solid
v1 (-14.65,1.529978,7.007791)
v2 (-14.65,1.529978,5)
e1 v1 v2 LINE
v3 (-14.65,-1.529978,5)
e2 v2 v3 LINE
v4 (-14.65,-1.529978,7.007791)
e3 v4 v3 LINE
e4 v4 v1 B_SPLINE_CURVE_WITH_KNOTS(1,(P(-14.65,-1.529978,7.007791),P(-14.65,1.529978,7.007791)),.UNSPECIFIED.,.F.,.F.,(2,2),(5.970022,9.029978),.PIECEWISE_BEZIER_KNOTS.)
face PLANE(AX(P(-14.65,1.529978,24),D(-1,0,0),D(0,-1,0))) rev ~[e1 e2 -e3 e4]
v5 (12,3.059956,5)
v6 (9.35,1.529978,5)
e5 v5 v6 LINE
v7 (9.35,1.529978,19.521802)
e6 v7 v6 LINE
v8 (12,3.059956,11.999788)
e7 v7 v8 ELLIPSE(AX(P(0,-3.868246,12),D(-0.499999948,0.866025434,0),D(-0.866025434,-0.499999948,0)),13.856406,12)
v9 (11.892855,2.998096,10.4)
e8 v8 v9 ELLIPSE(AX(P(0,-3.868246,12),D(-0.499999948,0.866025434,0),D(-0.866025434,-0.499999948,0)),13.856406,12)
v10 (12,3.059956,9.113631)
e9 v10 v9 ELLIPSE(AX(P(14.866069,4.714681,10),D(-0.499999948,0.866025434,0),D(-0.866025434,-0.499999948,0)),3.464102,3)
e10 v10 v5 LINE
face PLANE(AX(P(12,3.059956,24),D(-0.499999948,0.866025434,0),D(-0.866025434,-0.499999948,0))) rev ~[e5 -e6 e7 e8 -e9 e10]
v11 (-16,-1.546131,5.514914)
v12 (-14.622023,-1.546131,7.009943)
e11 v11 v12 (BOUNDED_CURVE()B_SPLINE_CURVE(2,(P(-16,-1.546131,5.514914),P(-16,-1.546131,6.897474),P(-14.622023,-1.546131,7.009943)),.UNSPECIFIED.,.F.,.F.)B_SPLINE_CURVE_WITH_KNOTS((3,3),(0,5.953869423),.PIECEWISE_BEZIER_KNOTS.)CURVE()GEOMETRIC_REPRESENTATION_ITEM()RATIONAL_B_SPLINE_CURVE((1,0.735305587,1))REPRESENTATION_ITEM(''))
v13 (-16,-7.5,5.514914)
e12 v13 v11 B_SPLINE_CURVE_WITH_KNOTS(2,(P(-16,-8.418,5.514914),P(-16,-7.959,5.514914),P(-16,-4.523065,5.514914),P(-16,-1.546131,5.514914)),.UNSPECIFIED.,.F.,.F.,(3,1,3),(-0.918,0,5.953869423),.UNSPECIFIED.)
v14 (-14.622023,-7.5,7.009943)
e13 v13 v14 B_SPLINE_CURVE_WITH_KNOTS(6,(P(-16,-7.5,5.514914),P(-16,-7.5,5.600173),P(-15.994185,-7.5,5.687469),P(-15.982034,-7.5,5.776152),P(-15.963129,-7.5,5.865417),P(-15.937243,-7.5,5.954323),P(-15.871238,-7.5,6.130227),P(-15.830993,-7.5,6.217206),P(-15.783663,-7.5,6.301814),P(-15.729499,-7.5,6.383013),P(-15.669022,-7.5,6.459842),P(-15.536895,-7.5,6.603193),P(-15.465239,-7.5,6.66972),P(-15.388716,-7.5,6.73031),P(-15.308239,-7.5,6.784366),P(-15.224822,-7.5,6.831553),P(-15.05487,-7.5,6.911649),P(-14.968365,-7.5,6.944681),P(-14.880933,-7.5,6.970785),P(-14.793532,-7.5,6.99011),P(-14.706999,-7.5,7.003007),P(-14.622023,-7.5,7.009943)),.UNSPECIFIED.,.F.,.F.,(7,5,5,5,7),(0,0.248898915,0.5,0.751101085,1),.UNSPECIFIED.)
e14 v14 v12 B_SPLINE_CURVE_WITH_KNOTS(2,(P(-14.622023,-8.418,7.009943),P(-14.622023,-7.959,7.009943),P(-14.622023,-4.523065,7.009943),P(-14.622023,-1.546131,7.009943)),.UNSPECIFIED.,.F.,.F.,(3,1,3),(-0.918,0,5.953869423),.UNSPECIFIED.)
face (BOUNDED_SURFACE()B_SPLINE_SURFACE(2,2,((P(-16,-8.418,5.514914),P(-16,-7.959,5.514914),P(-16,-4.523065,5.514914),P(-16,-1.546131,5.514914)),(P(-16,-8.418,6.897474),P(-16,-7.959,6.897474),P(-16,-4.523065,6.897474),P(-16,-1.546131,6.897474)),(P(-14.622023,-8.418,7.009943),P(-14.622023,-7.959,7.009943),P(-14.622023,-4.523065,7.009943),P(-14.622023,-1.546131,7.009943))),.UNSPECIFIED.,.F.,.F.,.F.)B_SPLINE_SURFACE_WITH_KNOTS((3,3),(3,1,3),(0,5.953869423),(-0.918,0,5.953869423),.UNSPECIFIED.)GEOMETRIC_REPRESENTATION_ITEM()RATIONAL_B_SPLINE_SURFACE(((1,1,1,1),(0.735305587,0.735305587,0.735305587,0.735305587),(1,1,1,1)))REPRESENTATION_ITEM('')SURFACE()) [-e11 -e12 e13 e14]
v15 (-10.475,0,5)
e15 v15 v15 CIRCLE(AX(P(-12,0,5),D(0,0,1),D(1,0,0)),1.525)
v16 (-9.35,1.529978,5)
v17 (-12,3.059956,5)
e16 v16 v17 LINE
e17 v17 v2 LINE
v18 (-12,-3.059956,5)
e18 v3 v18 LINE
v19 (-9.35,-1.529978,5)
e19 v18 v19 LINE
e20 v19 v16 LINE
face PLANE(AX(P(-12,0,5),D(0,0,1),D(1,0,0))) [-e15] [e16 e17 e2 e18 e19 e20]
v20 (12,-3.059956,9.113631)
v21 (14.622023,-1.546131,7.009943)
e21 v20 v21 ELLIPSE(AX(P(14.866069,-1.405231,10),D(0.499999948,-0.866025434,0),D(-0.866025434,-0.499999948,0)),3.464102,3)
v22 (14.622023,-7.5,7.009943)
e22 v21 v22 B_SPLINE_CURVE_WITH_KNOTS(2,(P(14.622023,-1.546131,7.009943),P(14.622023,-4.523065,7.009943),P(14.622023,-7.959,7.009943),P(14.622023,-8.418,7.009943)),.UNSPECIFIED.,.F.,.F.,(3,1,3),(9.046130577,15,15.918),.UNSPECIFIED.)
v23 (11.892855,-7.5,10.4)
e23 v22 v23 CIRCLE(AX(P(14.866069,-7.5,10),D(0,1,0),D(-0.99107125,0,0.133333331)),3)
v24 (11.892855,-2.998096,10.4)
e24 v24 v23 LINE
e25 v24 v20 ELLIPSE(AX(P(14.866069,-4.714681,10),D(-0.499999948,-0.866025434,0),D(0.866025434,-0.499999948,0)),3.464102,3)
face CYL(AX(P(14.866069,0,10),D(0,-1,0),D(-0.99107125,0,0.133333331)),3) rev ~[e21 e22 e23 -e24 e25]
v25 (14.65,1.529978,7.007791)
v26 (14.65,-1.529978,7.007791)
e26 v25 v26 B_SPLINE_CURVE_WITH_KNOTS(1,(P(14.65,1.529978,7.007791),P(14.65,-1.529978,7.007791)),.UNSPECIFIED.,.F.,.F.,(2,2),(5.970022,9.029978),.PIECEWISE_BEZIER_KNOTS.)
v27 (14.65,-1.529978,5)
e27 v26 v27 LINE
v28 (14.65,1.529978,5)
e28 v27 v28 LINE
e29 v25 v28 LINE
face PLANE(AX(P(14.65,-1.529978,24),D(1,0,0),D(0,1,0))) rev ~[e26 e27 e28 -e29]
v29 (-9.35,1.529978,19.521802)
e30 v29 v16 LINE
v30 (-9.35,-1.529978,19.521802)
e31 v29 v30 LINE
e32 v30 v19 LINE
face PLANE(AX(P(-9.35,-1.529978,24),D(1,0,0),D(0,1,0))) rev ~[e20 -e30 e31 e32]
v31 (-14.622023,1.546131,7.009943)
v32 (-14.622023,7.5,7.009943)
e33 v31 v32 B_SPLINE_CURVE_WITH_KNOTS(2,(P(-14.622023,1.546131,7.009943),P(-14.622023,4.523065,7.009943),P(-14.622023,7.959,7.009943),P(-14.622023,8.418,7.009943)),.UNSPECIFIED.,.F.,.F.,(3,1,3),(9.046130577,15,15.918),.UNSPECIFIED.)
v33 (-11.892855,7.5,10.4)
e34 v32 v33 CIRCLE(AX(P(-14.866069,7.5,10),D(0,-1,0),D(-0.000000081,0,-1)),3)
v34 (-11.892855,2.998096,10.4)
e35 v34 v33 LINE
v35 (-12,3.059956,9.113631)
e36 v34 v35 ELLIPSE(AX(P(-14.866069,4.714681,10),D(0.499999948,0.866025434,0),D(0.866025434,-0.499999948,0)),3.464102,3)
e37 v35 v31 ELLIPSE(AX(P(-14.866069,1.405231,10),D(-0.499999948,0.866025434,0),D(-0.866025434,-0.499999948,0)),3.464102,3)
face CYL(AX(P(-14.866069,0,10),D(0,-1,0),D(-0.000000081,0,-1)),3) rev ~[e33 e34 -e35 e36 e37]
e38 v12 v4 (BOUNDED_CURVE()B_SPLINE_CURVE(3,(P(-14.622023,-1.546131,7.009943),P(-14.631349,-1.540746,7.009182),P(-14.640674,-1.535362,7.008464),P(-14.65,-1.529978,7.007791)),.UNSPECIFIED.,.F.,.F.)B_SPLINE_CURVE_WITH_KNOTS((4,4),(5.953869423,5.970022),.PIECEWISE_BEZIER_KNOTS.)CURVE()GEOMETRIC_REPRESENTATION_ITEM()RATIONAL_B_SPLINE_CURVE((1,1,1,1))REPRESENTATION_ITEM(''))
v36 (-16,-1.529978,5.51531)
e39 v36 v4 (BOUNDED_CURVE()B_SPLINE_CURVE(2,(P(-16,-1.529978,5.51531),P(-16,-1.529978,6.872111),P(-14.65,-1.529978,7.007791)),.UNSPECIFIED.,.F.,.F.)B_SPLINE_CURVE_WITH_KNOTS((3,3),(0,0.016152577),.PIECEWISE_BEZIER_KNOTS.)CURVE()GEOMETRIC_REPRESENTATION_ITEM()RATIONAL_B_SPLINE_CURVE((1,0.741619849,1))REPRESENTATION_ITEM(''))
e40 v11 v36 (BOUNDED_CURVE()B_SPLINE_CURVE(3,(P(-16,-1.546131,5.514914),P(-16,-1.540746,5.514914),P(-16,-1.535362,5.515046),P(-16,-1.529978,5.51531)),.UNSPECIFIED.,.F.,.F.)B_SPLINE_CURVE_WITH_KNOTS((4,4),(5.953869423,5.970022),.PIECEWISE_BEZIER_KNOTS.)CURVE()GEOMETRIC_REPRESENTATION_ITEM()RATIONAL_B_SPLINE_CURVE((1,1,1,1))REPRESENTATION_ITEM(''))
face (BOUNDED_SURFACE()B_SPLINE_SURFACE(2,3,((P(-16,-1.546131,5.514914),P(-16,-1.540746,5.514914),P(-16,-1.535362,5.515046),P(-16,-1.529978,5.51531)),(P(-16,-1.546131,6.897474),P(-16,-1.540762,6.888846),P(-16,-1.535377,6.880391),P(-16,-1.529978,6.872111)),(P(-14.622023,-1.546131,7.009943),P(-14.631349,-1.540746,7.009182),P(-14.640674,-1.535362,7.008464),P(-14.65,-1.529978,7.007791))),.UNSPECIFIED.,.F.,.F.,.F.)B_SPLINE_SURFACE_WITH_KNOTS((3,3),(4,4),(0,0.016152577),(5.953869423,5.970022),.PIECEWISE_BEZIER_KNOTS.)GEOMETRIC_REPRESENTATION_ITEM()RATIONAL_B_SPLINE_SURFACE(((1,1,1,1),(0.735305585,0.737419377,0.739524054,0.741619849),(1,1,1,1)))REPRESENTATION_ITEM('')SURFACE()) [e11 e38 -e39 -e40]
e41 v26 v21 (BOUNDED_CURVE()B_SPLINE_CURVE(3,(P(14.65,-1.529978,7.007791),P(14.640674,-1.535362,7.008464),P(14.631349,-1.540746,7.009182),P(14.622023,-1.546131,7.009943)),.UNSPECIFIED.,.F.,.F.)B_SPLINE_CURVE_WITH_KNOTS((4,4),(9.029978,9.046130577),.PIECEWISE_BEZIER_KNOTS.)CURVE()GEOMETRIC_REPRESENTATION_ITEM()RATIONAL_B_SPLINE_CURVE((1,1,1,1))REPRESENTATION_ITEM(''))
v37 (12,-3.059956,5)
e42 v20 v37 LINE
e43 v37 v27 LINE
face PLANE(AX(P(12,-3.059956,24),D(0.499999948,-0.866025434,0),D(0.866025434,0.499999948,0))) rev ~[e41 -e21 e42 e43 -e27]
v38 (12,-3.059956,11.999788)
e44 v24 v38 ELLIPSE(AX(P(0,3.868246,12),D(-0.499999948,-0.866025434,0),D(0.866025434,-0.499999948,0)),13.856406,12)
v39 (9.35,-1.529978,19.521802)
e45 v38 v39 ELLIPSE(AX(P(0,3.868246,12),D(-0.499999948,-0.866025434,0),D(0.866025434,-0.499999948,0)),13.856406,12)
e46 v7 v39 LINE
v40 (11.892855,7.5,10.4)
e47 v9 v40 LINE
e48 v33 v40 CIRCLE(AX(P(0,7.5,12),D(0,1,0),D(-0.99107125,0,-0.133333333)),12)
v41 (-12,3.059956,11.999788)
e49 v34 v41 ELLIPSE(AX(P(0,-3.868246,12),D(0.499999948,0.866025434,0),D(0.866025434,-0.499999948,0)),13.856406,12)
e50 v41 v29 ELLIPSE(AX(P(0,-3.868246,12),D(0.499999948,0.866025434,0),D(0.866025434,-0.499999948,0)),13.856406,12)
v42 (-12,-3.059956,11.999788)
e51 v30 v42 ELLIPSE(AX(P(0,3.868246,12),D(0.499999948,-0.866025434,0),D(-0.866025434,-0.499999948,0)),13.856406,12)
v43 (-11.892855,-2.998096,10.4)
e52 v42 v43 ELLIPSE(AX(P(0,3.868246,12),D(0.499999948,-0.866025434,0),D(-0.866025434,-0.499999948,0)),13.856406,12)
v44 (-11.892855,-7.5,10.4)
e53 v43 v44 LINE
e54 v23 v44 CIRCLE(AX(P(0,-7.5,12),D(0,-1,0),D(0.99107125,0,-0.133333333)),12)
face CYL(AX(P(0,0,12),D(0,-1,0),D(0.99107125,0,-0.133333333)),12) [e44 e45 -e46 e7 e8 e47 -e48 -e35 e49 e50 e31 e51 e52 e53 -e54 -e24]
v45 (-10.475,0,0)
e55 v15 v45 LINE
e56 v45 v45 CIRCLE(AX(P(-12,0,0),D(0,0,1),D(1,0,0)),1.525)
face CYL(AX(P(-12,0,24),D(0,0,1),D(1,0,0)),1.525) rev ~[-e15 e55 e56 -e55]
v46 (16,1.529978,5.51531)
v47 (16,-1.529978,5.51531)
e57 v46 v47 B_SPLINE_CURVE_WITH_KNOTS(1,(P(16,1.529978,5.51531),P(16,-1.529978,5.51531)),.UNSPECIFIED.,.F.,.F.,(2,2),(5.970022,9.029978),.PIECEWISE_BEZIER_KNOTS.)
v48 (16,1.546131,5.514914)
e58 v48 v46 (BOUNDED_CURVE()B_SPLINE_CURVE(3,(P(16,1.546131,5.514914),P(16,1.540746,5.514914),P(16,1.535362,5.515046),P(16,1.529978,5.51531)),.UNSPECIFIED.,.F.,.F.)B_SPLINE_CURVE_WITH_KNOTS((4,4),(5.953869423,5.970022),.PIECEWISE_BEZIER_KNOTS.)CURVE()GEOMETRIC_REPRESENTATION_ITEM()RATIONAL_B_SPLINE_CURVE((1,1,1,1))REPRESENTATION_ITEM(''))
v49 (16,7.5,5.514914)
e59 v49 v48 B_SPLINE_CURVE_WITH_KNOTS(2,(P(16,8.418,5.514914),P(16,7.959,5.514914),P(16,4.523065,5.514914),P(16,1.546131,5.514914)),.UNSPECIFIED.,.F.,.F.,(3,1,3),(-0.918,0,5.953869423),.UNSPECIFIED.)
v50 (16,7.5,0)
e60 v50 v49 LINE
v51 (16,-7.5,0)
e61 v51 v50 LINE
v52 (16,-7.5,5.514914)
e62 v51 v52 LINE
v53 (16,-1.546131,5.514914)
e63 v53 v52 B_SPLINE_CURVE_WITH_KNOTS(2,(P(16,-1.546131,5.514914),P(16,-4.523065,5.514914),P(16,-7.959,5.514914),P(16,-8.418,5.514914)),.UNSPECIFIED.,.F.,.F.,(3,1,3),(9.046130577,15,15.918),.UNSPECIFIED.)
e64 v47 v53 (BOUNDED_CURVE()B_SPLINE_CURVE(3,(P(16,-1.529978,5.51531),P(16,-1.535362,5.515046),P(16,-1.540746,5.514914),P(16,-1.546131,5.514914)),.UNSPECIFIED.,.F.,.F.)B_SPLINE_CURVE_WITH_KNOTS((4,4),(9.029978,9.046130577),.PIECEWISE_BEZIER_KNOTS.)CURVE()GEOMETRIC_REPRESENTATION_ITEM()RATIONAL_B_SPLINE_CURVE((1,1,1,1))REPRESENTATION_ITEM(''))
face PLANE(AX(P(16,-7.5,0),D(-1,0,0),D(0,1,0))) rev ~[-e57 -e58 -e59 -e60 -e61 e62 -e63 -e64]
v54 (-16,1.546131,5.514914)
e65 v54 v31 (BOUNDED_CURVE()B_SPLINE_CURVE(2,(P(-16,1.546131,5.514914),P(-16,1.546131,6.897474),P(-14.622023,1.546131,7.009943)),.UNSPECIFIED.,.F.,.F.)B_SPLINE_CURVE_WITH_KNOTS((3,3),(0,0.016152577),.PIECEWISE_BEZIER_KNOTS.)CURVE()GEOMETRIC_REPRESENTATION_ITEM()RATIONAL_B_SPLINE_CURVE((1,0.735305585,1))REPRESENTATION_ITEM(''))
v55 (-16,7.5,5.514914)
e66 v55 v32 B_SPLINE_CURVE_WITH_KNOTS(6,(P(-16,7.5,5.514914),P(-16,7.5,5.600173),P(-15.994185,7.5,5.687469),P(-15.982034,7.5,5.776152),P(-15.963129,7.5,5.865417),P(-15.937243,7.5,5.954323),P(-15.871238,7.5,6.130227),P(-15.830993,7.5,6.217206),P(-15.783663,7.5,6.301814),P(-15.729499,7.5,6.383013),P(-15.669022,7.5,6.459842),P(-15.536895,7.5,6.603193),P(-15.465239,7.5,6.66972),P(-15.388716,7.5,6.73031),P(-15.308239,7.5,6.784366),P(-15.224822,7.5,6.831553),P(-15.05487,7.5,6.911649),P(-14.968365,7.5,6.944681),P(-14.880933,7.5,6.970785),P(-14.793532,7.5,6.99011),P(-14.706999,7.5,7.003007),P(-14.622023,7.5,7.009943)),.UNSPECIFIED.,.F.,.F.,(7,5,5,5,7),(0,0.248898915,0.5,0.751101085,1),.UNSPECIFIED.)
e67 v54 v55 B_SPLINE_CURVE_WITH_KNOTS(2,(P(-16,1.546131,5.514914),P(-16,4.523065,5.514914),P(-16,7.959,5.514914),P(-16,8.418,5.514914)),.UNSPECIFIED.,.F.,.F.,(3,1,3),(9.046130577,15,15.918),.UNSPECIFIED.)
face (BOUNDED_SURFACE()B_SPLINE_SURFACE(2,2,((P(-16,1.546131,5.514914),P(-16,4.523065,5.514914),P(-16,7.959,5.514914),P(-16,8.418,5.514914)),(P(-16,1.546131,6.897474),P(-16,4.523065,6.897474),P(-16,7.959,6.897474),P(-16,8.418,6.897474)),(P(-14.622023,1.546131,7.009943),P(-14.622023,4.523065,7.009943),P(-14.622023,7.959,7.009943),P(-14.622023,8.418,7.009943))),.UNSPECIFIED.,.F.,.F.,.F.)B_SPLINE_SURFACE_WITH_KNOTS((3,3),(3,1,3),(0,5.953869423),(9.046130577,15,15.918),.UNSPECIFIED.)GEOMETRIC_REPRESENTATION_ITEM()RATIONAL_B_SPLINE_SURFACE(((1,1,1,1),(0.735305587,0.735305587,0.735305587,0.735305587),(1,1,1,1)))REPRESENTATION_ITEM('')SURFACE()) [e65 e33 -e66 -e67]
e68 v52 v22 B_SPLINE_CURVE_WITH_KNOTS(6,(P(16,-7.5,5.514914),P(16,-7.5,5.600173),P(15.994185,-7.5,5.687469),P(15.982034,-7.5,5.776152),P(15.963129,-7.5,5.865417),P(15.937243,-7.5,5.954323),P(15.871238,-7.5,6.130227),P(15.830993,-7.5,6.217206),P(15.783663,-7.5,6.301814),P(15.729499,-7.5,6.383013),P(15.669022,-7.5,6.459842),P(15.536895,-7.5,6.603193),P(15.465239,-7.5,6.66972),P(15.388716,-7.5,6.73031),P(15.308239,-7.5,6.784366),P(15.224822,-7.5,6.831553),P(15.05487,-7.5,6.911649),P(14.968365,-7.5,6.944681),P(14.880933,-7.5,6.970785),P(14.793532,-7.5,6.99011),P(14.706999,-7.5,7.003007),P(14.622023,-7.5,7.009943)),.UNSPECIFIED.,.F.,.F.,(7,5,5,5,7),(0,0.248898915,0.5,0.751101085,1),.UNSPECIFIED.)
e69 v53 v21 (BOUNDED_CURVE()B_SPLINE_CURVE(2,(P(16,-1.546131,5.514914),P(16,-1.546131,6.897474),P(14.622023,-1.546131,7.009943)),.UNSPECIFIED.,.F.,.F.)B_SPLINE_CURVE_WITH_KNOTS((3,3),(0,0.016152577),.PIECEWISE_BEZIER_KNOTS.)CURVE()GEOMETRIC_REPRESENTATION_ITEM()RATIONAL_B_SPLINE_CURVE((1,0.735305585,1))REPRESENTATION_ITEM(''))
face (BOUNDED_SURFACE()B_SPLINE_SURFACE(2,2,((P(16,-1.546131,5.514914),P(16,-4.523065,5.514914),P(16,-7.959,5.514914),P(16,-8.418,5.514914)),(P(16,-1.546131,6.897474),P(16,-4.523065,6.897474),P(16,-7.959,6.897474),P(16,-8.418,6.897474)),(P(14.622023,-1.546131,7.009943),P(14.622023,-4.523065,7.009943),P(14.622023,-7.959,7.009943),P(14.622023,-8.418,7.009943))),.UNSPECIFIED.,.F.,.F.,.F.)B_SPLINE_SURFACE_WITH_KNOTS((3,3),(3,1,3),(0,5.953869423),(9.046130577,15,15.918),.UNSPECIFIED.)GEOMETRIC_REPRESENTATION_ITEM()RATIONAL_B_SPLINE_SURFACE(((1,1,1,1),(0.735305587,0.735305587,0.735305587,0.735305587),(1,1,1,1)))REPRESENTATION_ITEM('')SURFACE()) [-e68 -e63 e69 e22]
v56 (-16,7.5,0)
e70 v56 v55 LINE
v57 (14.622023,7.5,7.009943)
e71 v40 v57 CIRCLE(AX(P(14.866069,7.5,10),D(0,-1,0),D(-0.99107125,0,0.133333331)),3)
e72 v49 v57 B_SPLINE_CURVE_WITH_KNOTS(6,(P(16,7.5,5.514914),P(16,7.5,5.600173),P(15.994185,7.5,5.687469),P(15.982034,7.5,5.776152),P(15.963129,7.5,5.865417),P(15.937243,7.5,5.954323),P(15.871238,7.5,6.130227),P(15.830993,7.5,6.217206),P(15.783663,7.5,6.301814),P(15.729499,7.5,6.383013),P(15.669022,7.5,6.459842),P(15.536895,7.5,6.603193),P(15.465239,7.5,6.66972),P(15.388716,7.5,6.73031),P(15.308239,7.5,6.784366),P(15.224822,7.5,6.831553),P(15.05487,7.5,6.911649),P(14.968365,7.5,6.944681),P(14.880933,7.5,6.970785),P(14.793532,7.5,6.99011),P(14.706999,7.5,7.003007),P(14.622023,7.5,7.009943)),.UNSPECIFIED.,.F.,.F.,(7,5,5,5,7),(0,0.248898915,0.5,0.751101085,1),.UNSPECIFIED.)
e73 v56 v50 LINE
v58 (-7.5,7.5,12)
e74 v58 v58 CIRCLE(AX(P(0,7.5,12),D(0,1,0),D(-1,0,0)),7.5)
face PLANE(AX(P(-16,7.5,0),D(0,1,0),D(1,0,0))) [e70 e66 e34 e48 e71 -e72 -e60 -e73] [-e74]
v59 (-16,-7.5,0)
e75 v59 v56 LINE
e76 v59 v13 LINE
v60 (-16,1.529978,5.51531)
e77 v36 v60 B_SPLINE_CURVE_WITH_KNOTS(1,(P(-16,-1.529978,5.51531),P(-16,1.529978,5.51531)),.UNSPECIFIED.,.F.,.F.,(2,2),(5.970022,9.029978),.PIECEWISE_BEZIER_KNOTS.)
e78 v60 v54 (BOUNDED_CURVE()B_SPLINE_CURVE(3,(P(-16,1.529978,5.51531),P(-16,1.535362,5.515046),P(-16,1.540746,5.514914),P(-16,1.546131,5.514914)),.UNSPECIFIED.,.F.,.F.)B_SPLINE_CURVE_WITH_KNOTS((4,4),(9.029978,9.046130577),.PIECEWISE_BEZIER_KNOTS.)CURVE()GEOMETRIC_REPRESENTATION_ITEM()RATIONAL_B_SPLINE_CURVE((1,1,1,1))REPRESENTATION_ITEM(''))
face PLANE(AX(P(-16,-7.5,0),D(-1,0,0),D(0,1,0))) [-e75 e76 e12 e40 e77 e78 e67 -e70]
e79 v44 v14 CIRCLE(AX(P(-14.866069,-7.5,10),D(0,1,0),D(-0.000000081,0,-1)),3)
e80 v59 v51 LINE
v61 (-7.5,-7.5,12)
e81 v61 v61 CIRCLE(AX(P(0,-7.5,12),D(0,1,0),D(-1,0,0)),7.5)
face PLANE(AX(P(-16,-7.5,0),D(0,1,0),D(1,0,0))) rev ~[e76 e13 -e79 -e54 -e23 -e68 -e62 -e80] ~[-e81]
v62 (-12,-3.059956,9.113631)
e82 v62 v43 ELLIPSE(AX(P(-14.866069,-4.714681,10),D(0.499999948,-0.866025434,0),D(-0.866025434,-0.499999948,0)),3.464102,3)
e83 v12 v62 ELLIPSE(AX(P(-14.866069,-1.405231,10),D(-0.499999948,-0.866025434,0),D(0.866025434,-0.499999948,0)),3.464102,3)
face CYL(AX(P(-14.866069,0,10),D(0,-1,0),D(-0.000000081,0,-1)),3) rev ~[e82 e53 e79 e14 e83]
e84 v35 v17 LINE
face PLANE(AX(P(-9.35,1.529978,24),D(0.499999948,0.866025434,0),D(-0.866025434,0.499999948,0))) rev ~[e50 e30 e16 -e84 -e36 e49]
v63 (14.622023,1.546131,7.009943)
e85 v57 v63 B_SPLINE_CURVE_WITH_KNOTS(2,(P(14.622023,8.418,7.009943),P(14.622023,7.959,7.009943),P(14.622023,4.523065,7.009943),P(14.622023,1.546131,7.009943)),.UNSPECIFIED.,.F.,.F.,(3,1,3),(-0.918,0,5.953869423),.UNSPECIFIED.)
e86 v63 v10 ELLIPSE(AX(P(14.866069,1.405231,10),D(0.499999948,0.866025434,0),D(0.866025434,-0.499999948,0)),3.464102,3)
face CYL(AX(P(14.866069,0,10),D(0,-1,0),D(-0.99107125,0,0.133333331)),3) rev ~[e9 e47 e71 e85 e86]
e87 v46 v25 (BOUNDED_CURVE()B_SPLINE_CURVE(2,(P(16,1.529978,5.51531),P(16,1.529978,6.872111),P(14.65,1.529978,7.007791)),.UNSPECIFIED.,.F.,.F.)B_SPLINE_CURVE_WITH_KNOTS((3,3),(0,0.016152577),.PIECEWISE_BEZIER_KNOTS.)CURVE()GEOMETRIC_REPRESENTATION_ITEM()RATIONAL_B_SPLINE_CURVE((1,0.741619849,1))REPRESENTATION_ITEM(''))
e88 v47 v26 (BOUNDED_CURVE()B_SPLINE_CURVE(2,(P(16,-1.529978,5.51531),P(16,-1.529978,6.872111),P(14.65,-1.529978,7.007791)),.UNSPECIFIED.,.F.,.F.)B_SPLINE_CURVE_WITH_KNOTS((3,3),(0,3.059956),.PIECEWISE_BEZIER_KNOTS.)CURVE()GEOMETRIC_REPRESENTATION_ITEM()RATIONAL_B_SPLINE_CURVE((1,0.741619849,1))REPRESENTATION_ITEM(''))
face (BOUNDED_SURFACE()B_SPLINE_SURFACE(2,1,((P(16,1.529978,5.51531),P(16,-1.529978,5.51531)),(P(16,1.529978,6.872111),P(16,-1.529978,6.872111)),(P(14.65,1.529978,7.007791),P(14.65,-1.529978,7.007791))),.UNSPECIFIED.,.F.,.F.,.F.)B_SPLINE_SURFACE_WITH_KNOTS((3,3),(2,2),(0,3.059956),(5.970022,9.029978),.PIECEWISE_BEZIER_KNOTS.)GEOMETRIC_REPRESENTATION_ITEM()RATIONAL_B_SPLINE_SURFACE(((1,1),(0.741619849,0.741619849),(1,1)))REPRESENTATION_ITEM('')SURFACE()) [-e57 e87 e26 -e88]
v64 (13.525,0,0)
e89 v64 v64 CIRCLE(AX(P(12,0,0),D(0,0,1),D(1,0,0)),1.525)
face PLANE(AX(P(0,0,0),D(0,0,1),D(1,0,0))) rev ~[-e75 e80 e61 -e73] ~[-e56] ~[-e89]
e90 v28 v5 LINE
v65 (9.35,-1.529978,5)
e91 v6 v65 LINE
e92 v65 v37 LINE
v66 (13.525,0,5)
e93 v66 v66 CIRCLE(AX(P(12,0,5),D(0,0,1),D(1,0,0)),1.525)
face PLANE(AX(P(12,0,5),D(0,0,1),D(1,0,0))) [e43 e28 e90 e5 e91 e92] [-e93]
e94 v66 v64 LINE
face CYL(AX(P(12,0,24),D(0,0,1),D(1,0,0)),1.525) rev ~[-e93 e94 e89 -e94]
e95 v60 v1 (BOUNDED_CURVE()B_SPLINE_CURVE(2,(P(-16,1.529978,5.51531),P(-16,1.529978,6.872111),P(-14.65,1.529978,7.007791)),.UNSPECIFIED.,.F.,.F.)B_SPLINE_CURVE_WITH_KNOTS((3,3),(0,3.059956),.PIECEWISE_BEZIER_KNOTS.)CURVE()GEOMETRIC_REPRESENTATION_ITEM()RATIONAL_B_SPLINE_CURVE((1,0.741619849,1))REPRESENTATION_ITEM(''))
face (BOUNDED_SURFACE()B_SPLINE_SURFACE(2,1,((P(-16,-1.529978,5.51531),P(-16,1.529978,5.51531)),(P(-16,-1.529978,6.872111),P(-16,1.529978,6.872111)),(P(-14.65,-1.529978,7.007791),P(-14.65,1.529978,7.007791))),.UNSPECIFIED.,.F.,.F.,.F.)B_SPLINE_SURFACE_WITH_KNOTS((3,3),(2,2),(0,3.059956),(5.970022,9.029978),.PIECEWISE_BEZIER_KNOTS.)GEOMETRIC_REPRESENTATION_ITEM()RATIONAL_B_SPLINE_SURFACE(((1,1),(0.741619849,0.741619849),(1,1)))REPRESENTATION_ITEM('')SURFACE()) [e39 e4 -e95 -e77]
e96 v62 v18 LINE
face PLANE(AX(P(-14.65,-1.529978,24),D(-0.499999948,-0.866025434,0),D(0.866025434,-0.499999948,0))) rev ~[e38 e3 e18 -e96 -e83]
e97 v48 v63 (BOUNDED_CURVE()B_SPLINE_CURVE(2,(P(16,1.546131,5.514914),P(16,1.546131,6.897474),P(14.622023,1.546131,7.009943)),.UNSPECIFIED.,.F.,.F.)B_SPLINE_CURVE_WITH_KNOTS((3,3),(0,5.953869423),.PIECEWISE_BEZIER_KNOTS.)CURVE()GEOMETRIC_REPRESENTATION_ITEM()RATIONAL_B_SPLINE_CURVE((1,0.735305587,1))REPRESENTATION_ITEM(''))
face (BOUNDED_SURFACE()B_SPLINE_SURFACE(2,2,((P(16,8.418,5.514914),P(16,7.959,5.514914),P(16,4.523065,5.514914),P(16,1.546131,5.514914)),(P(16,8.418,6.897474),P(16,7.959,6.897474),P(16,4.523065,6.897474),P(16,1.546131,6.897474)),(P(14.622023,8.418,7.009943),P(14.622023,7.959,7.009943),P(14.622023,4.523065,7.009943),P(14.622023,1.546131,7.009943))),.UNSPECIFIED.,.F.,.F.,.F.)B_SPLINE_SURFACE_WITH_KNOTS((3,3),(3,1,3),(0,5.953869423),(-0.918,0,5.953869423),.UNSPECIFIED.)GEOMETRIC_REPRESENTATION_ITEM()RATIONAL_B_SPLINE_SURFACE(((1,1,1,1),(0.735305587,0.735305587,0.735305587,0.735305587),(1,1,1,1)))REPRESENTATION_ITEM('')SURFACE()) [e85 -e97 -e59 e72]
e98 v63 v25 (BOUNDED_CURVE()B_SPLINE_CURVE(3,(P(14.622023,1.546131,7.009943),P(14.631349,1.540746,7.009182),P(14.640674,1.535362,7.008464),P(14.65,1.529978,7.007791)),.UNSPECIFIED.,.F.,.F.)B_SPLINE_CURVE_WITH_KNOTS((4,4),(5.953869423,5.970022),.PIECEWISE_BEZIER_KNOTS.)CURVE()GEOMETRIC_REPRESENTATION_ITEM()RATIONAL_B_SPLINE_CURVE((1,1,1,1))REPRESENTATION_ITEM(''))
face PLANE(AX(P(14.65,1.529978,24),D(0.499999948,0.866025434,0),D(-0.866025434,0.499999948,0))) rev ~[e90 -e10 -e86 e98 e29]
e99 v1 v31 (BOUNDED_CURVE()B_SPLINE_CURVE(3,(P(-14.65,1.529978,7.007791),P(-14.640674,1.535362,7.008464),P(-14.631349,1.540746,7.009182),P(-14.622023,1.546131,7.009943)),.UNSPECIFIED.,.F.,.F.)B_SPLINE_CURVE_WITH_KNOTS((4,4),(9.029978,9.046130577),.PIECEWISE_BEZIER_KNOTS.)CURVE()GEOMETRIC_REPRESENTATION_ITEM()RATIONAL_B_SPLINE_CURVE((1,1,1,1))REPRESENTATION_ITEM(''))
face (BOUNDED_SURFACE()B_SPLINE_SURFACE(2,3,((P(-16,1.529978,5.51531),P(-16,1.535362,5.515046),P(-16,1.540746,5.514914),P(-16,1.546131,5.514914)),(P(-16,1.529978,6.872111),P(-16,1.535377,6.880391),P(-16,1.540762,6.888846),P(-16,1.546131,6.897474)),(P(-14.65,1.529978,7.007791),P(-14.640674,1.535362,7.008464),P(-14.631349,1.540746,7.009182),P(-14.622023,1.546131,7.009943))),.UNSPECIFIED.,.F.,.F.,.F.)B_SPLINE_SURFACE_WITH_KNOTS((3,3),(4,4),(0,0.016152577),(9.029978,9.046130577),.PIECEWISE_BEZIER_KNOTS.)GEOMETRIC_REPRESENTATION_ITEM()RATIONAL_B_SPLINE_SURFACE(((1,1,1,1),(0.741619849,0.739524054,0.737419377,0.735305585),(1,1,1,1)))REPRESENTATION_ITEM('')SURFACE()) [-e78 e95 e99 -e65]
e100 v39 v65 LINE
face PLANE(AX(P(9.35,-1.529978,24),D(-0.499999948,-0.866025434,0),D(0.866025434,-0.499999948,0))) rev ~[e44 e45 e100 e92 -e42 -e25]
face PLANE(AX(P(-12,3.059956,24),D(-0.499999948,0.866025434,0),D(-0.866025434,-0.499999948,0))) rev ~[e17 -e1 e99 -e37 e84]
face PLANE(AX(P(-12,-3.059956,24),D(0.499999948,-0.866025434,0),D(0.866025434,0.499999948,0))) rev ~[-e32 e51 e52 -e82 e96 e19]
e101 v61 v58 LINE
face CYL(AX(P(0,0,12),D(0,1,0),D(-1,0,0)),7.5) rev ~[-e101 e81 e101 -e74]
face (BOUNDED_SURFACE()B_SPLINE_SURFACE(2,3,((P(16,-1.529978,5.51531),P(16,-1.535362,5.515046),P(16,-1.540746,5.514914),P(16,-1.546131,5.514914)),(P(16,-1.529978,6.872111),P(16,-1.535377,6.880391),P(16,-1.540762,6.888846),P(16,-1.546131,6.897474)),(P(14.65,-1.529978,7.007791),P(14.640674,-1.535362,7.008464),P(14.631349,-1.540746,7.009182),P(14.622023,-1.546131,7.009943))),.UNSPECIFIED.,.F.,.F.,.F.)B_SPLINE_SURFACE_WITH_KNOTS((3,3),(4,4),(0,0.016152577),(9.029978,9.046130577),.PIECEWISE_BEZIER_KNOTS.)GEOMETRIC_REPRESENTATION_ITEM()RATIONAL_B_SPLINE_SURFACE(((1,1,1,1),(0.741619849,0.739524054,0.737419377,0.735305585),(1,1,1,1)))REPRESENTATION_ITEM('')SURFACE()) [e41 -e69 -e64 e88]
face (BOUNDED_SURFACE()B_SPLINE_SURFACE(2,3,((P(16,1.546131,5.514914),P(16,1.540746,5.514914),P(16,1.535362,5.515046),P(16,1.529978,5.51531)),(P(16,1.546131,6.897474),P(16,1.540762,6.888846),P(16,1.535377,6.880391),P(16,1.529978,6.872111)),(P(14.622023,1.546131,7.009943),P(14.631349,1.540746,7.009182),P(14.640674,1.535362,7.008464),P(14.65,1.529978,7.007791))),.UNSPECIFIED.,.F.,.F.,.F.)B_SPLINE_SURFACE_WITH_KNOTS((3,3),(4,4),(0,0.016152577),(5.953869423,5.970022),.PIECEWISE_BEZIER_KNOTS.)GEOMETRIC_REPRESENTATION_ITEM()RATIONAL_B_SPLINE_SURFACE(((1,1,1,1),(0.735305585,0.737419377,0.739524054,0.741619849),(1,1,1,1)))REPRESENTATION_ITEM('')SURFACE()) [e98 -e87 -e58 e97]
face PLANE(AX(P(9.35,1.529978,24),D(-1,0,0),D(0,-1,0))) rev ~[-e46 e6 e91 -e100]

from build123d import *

# Parameters (mm, degrees)
SKETCH_W          = 32
SKETCH_H          = 15
PAD_DEPTH         = 24
SKETCH001_W       = 7.5
SKETCH001_H       = 15
SKETCH002_R       = 1.525
HOLE_DEPTH        = 25
POCKET_DEPTH      = 7.501
POCKET_DEPTH_BACK = -7.501
POCKET001_DEPTH   = 19
FILLET_R          = 1.5


with BuildPart() as part:
    # Sketch → Pad (new body)
    with BuildSketch(Plane.XY):
        Rectangle(SKETCH_W, SKETCH_H)
    extrude(amount=PAD_DEPTH)

    # Sketch001 → Groove (revolve, cut)
    with BuildSketch(Plane.XY.offset(12)):
        with Locations((-3.75, 0)):
            Rectangle(SKETCH001_W, SKETCH001_H)
    revolve(axis=Axis((0, 0, 12), (0, 1, 0)), mode=Mode.SUBTRACT)

    # Sketch002 → Hole (cut)
    with BuildSketch(Plane.XY.offset(24)):
        with Locations((12, 0)):
            Circle(SKETCH002_R)
        with Locations((-12, 0)):
            Circle(SKETCH002_R)
    extrude(amount=-HOLE_DEPTH, mode=Mode.SUBTRACT)

    # Sketch004 → Pocket (cut, two sides)
    with BuildSketch(Plane.XZ) as pocket_sk:
        with BuildLine():
            Line((-25, 7), (-14.866069, 7))
            ThreePointArc((-14.866069, 7), (-12.607751, 8.025158), (-11.892855, 10.4))
            ThreePointArc((11.892855, 10.4), (0, 24), (-11.892855, 10.4))
            ThreePointArc((11.892855, 10.4), (12.607751, 8.025158), (14.866069, 7))
            Line((14.866069, 7), (25, 7))
            Line((25, 7), (25, 37.147858))
            Line((25, 37.147858), (-25, 37.147858))
            Line((-25, 7), (-25, 37.147858))
        make_face()
    extrude(amount=-POCKET_DEPTH, mode=Mode.SUBTRACT)
    extrude(pocket_sk.sketch, amount=-POCKET_DEPTH_BACK, mode=Mode.SUBTRACT)

    # Sketch003 → Pocket001 (cut)
    with BuildSketch(Plane.XY.offset(24)):
        Polygon((14.65, 1.529978), (12, 3.059956), (9.35, 1.529978), (9.35, -1.529978), (12, -3.059956), (14.65, -1.529978), align=None)
        Polygon((-9.35, 1.529978), (-12, 3.059956), (-14.65, 1.529978), (-14.65, -1.529978), (-12, -3.059956), (-9.35, -1.529978), align=None)
    extrude(amount=-POCKET001_DEPTH, mode=Mode.SUBTRACT)

    # Fillet
    fillet_edges = [part.edges().sort_by_distance(p)[0] for p in [
        (16, 0, 7),
        (-16, 0, 7),
    ]]
    fillet(fillet_edges, radius=FILLET_R)


solid = part.part
